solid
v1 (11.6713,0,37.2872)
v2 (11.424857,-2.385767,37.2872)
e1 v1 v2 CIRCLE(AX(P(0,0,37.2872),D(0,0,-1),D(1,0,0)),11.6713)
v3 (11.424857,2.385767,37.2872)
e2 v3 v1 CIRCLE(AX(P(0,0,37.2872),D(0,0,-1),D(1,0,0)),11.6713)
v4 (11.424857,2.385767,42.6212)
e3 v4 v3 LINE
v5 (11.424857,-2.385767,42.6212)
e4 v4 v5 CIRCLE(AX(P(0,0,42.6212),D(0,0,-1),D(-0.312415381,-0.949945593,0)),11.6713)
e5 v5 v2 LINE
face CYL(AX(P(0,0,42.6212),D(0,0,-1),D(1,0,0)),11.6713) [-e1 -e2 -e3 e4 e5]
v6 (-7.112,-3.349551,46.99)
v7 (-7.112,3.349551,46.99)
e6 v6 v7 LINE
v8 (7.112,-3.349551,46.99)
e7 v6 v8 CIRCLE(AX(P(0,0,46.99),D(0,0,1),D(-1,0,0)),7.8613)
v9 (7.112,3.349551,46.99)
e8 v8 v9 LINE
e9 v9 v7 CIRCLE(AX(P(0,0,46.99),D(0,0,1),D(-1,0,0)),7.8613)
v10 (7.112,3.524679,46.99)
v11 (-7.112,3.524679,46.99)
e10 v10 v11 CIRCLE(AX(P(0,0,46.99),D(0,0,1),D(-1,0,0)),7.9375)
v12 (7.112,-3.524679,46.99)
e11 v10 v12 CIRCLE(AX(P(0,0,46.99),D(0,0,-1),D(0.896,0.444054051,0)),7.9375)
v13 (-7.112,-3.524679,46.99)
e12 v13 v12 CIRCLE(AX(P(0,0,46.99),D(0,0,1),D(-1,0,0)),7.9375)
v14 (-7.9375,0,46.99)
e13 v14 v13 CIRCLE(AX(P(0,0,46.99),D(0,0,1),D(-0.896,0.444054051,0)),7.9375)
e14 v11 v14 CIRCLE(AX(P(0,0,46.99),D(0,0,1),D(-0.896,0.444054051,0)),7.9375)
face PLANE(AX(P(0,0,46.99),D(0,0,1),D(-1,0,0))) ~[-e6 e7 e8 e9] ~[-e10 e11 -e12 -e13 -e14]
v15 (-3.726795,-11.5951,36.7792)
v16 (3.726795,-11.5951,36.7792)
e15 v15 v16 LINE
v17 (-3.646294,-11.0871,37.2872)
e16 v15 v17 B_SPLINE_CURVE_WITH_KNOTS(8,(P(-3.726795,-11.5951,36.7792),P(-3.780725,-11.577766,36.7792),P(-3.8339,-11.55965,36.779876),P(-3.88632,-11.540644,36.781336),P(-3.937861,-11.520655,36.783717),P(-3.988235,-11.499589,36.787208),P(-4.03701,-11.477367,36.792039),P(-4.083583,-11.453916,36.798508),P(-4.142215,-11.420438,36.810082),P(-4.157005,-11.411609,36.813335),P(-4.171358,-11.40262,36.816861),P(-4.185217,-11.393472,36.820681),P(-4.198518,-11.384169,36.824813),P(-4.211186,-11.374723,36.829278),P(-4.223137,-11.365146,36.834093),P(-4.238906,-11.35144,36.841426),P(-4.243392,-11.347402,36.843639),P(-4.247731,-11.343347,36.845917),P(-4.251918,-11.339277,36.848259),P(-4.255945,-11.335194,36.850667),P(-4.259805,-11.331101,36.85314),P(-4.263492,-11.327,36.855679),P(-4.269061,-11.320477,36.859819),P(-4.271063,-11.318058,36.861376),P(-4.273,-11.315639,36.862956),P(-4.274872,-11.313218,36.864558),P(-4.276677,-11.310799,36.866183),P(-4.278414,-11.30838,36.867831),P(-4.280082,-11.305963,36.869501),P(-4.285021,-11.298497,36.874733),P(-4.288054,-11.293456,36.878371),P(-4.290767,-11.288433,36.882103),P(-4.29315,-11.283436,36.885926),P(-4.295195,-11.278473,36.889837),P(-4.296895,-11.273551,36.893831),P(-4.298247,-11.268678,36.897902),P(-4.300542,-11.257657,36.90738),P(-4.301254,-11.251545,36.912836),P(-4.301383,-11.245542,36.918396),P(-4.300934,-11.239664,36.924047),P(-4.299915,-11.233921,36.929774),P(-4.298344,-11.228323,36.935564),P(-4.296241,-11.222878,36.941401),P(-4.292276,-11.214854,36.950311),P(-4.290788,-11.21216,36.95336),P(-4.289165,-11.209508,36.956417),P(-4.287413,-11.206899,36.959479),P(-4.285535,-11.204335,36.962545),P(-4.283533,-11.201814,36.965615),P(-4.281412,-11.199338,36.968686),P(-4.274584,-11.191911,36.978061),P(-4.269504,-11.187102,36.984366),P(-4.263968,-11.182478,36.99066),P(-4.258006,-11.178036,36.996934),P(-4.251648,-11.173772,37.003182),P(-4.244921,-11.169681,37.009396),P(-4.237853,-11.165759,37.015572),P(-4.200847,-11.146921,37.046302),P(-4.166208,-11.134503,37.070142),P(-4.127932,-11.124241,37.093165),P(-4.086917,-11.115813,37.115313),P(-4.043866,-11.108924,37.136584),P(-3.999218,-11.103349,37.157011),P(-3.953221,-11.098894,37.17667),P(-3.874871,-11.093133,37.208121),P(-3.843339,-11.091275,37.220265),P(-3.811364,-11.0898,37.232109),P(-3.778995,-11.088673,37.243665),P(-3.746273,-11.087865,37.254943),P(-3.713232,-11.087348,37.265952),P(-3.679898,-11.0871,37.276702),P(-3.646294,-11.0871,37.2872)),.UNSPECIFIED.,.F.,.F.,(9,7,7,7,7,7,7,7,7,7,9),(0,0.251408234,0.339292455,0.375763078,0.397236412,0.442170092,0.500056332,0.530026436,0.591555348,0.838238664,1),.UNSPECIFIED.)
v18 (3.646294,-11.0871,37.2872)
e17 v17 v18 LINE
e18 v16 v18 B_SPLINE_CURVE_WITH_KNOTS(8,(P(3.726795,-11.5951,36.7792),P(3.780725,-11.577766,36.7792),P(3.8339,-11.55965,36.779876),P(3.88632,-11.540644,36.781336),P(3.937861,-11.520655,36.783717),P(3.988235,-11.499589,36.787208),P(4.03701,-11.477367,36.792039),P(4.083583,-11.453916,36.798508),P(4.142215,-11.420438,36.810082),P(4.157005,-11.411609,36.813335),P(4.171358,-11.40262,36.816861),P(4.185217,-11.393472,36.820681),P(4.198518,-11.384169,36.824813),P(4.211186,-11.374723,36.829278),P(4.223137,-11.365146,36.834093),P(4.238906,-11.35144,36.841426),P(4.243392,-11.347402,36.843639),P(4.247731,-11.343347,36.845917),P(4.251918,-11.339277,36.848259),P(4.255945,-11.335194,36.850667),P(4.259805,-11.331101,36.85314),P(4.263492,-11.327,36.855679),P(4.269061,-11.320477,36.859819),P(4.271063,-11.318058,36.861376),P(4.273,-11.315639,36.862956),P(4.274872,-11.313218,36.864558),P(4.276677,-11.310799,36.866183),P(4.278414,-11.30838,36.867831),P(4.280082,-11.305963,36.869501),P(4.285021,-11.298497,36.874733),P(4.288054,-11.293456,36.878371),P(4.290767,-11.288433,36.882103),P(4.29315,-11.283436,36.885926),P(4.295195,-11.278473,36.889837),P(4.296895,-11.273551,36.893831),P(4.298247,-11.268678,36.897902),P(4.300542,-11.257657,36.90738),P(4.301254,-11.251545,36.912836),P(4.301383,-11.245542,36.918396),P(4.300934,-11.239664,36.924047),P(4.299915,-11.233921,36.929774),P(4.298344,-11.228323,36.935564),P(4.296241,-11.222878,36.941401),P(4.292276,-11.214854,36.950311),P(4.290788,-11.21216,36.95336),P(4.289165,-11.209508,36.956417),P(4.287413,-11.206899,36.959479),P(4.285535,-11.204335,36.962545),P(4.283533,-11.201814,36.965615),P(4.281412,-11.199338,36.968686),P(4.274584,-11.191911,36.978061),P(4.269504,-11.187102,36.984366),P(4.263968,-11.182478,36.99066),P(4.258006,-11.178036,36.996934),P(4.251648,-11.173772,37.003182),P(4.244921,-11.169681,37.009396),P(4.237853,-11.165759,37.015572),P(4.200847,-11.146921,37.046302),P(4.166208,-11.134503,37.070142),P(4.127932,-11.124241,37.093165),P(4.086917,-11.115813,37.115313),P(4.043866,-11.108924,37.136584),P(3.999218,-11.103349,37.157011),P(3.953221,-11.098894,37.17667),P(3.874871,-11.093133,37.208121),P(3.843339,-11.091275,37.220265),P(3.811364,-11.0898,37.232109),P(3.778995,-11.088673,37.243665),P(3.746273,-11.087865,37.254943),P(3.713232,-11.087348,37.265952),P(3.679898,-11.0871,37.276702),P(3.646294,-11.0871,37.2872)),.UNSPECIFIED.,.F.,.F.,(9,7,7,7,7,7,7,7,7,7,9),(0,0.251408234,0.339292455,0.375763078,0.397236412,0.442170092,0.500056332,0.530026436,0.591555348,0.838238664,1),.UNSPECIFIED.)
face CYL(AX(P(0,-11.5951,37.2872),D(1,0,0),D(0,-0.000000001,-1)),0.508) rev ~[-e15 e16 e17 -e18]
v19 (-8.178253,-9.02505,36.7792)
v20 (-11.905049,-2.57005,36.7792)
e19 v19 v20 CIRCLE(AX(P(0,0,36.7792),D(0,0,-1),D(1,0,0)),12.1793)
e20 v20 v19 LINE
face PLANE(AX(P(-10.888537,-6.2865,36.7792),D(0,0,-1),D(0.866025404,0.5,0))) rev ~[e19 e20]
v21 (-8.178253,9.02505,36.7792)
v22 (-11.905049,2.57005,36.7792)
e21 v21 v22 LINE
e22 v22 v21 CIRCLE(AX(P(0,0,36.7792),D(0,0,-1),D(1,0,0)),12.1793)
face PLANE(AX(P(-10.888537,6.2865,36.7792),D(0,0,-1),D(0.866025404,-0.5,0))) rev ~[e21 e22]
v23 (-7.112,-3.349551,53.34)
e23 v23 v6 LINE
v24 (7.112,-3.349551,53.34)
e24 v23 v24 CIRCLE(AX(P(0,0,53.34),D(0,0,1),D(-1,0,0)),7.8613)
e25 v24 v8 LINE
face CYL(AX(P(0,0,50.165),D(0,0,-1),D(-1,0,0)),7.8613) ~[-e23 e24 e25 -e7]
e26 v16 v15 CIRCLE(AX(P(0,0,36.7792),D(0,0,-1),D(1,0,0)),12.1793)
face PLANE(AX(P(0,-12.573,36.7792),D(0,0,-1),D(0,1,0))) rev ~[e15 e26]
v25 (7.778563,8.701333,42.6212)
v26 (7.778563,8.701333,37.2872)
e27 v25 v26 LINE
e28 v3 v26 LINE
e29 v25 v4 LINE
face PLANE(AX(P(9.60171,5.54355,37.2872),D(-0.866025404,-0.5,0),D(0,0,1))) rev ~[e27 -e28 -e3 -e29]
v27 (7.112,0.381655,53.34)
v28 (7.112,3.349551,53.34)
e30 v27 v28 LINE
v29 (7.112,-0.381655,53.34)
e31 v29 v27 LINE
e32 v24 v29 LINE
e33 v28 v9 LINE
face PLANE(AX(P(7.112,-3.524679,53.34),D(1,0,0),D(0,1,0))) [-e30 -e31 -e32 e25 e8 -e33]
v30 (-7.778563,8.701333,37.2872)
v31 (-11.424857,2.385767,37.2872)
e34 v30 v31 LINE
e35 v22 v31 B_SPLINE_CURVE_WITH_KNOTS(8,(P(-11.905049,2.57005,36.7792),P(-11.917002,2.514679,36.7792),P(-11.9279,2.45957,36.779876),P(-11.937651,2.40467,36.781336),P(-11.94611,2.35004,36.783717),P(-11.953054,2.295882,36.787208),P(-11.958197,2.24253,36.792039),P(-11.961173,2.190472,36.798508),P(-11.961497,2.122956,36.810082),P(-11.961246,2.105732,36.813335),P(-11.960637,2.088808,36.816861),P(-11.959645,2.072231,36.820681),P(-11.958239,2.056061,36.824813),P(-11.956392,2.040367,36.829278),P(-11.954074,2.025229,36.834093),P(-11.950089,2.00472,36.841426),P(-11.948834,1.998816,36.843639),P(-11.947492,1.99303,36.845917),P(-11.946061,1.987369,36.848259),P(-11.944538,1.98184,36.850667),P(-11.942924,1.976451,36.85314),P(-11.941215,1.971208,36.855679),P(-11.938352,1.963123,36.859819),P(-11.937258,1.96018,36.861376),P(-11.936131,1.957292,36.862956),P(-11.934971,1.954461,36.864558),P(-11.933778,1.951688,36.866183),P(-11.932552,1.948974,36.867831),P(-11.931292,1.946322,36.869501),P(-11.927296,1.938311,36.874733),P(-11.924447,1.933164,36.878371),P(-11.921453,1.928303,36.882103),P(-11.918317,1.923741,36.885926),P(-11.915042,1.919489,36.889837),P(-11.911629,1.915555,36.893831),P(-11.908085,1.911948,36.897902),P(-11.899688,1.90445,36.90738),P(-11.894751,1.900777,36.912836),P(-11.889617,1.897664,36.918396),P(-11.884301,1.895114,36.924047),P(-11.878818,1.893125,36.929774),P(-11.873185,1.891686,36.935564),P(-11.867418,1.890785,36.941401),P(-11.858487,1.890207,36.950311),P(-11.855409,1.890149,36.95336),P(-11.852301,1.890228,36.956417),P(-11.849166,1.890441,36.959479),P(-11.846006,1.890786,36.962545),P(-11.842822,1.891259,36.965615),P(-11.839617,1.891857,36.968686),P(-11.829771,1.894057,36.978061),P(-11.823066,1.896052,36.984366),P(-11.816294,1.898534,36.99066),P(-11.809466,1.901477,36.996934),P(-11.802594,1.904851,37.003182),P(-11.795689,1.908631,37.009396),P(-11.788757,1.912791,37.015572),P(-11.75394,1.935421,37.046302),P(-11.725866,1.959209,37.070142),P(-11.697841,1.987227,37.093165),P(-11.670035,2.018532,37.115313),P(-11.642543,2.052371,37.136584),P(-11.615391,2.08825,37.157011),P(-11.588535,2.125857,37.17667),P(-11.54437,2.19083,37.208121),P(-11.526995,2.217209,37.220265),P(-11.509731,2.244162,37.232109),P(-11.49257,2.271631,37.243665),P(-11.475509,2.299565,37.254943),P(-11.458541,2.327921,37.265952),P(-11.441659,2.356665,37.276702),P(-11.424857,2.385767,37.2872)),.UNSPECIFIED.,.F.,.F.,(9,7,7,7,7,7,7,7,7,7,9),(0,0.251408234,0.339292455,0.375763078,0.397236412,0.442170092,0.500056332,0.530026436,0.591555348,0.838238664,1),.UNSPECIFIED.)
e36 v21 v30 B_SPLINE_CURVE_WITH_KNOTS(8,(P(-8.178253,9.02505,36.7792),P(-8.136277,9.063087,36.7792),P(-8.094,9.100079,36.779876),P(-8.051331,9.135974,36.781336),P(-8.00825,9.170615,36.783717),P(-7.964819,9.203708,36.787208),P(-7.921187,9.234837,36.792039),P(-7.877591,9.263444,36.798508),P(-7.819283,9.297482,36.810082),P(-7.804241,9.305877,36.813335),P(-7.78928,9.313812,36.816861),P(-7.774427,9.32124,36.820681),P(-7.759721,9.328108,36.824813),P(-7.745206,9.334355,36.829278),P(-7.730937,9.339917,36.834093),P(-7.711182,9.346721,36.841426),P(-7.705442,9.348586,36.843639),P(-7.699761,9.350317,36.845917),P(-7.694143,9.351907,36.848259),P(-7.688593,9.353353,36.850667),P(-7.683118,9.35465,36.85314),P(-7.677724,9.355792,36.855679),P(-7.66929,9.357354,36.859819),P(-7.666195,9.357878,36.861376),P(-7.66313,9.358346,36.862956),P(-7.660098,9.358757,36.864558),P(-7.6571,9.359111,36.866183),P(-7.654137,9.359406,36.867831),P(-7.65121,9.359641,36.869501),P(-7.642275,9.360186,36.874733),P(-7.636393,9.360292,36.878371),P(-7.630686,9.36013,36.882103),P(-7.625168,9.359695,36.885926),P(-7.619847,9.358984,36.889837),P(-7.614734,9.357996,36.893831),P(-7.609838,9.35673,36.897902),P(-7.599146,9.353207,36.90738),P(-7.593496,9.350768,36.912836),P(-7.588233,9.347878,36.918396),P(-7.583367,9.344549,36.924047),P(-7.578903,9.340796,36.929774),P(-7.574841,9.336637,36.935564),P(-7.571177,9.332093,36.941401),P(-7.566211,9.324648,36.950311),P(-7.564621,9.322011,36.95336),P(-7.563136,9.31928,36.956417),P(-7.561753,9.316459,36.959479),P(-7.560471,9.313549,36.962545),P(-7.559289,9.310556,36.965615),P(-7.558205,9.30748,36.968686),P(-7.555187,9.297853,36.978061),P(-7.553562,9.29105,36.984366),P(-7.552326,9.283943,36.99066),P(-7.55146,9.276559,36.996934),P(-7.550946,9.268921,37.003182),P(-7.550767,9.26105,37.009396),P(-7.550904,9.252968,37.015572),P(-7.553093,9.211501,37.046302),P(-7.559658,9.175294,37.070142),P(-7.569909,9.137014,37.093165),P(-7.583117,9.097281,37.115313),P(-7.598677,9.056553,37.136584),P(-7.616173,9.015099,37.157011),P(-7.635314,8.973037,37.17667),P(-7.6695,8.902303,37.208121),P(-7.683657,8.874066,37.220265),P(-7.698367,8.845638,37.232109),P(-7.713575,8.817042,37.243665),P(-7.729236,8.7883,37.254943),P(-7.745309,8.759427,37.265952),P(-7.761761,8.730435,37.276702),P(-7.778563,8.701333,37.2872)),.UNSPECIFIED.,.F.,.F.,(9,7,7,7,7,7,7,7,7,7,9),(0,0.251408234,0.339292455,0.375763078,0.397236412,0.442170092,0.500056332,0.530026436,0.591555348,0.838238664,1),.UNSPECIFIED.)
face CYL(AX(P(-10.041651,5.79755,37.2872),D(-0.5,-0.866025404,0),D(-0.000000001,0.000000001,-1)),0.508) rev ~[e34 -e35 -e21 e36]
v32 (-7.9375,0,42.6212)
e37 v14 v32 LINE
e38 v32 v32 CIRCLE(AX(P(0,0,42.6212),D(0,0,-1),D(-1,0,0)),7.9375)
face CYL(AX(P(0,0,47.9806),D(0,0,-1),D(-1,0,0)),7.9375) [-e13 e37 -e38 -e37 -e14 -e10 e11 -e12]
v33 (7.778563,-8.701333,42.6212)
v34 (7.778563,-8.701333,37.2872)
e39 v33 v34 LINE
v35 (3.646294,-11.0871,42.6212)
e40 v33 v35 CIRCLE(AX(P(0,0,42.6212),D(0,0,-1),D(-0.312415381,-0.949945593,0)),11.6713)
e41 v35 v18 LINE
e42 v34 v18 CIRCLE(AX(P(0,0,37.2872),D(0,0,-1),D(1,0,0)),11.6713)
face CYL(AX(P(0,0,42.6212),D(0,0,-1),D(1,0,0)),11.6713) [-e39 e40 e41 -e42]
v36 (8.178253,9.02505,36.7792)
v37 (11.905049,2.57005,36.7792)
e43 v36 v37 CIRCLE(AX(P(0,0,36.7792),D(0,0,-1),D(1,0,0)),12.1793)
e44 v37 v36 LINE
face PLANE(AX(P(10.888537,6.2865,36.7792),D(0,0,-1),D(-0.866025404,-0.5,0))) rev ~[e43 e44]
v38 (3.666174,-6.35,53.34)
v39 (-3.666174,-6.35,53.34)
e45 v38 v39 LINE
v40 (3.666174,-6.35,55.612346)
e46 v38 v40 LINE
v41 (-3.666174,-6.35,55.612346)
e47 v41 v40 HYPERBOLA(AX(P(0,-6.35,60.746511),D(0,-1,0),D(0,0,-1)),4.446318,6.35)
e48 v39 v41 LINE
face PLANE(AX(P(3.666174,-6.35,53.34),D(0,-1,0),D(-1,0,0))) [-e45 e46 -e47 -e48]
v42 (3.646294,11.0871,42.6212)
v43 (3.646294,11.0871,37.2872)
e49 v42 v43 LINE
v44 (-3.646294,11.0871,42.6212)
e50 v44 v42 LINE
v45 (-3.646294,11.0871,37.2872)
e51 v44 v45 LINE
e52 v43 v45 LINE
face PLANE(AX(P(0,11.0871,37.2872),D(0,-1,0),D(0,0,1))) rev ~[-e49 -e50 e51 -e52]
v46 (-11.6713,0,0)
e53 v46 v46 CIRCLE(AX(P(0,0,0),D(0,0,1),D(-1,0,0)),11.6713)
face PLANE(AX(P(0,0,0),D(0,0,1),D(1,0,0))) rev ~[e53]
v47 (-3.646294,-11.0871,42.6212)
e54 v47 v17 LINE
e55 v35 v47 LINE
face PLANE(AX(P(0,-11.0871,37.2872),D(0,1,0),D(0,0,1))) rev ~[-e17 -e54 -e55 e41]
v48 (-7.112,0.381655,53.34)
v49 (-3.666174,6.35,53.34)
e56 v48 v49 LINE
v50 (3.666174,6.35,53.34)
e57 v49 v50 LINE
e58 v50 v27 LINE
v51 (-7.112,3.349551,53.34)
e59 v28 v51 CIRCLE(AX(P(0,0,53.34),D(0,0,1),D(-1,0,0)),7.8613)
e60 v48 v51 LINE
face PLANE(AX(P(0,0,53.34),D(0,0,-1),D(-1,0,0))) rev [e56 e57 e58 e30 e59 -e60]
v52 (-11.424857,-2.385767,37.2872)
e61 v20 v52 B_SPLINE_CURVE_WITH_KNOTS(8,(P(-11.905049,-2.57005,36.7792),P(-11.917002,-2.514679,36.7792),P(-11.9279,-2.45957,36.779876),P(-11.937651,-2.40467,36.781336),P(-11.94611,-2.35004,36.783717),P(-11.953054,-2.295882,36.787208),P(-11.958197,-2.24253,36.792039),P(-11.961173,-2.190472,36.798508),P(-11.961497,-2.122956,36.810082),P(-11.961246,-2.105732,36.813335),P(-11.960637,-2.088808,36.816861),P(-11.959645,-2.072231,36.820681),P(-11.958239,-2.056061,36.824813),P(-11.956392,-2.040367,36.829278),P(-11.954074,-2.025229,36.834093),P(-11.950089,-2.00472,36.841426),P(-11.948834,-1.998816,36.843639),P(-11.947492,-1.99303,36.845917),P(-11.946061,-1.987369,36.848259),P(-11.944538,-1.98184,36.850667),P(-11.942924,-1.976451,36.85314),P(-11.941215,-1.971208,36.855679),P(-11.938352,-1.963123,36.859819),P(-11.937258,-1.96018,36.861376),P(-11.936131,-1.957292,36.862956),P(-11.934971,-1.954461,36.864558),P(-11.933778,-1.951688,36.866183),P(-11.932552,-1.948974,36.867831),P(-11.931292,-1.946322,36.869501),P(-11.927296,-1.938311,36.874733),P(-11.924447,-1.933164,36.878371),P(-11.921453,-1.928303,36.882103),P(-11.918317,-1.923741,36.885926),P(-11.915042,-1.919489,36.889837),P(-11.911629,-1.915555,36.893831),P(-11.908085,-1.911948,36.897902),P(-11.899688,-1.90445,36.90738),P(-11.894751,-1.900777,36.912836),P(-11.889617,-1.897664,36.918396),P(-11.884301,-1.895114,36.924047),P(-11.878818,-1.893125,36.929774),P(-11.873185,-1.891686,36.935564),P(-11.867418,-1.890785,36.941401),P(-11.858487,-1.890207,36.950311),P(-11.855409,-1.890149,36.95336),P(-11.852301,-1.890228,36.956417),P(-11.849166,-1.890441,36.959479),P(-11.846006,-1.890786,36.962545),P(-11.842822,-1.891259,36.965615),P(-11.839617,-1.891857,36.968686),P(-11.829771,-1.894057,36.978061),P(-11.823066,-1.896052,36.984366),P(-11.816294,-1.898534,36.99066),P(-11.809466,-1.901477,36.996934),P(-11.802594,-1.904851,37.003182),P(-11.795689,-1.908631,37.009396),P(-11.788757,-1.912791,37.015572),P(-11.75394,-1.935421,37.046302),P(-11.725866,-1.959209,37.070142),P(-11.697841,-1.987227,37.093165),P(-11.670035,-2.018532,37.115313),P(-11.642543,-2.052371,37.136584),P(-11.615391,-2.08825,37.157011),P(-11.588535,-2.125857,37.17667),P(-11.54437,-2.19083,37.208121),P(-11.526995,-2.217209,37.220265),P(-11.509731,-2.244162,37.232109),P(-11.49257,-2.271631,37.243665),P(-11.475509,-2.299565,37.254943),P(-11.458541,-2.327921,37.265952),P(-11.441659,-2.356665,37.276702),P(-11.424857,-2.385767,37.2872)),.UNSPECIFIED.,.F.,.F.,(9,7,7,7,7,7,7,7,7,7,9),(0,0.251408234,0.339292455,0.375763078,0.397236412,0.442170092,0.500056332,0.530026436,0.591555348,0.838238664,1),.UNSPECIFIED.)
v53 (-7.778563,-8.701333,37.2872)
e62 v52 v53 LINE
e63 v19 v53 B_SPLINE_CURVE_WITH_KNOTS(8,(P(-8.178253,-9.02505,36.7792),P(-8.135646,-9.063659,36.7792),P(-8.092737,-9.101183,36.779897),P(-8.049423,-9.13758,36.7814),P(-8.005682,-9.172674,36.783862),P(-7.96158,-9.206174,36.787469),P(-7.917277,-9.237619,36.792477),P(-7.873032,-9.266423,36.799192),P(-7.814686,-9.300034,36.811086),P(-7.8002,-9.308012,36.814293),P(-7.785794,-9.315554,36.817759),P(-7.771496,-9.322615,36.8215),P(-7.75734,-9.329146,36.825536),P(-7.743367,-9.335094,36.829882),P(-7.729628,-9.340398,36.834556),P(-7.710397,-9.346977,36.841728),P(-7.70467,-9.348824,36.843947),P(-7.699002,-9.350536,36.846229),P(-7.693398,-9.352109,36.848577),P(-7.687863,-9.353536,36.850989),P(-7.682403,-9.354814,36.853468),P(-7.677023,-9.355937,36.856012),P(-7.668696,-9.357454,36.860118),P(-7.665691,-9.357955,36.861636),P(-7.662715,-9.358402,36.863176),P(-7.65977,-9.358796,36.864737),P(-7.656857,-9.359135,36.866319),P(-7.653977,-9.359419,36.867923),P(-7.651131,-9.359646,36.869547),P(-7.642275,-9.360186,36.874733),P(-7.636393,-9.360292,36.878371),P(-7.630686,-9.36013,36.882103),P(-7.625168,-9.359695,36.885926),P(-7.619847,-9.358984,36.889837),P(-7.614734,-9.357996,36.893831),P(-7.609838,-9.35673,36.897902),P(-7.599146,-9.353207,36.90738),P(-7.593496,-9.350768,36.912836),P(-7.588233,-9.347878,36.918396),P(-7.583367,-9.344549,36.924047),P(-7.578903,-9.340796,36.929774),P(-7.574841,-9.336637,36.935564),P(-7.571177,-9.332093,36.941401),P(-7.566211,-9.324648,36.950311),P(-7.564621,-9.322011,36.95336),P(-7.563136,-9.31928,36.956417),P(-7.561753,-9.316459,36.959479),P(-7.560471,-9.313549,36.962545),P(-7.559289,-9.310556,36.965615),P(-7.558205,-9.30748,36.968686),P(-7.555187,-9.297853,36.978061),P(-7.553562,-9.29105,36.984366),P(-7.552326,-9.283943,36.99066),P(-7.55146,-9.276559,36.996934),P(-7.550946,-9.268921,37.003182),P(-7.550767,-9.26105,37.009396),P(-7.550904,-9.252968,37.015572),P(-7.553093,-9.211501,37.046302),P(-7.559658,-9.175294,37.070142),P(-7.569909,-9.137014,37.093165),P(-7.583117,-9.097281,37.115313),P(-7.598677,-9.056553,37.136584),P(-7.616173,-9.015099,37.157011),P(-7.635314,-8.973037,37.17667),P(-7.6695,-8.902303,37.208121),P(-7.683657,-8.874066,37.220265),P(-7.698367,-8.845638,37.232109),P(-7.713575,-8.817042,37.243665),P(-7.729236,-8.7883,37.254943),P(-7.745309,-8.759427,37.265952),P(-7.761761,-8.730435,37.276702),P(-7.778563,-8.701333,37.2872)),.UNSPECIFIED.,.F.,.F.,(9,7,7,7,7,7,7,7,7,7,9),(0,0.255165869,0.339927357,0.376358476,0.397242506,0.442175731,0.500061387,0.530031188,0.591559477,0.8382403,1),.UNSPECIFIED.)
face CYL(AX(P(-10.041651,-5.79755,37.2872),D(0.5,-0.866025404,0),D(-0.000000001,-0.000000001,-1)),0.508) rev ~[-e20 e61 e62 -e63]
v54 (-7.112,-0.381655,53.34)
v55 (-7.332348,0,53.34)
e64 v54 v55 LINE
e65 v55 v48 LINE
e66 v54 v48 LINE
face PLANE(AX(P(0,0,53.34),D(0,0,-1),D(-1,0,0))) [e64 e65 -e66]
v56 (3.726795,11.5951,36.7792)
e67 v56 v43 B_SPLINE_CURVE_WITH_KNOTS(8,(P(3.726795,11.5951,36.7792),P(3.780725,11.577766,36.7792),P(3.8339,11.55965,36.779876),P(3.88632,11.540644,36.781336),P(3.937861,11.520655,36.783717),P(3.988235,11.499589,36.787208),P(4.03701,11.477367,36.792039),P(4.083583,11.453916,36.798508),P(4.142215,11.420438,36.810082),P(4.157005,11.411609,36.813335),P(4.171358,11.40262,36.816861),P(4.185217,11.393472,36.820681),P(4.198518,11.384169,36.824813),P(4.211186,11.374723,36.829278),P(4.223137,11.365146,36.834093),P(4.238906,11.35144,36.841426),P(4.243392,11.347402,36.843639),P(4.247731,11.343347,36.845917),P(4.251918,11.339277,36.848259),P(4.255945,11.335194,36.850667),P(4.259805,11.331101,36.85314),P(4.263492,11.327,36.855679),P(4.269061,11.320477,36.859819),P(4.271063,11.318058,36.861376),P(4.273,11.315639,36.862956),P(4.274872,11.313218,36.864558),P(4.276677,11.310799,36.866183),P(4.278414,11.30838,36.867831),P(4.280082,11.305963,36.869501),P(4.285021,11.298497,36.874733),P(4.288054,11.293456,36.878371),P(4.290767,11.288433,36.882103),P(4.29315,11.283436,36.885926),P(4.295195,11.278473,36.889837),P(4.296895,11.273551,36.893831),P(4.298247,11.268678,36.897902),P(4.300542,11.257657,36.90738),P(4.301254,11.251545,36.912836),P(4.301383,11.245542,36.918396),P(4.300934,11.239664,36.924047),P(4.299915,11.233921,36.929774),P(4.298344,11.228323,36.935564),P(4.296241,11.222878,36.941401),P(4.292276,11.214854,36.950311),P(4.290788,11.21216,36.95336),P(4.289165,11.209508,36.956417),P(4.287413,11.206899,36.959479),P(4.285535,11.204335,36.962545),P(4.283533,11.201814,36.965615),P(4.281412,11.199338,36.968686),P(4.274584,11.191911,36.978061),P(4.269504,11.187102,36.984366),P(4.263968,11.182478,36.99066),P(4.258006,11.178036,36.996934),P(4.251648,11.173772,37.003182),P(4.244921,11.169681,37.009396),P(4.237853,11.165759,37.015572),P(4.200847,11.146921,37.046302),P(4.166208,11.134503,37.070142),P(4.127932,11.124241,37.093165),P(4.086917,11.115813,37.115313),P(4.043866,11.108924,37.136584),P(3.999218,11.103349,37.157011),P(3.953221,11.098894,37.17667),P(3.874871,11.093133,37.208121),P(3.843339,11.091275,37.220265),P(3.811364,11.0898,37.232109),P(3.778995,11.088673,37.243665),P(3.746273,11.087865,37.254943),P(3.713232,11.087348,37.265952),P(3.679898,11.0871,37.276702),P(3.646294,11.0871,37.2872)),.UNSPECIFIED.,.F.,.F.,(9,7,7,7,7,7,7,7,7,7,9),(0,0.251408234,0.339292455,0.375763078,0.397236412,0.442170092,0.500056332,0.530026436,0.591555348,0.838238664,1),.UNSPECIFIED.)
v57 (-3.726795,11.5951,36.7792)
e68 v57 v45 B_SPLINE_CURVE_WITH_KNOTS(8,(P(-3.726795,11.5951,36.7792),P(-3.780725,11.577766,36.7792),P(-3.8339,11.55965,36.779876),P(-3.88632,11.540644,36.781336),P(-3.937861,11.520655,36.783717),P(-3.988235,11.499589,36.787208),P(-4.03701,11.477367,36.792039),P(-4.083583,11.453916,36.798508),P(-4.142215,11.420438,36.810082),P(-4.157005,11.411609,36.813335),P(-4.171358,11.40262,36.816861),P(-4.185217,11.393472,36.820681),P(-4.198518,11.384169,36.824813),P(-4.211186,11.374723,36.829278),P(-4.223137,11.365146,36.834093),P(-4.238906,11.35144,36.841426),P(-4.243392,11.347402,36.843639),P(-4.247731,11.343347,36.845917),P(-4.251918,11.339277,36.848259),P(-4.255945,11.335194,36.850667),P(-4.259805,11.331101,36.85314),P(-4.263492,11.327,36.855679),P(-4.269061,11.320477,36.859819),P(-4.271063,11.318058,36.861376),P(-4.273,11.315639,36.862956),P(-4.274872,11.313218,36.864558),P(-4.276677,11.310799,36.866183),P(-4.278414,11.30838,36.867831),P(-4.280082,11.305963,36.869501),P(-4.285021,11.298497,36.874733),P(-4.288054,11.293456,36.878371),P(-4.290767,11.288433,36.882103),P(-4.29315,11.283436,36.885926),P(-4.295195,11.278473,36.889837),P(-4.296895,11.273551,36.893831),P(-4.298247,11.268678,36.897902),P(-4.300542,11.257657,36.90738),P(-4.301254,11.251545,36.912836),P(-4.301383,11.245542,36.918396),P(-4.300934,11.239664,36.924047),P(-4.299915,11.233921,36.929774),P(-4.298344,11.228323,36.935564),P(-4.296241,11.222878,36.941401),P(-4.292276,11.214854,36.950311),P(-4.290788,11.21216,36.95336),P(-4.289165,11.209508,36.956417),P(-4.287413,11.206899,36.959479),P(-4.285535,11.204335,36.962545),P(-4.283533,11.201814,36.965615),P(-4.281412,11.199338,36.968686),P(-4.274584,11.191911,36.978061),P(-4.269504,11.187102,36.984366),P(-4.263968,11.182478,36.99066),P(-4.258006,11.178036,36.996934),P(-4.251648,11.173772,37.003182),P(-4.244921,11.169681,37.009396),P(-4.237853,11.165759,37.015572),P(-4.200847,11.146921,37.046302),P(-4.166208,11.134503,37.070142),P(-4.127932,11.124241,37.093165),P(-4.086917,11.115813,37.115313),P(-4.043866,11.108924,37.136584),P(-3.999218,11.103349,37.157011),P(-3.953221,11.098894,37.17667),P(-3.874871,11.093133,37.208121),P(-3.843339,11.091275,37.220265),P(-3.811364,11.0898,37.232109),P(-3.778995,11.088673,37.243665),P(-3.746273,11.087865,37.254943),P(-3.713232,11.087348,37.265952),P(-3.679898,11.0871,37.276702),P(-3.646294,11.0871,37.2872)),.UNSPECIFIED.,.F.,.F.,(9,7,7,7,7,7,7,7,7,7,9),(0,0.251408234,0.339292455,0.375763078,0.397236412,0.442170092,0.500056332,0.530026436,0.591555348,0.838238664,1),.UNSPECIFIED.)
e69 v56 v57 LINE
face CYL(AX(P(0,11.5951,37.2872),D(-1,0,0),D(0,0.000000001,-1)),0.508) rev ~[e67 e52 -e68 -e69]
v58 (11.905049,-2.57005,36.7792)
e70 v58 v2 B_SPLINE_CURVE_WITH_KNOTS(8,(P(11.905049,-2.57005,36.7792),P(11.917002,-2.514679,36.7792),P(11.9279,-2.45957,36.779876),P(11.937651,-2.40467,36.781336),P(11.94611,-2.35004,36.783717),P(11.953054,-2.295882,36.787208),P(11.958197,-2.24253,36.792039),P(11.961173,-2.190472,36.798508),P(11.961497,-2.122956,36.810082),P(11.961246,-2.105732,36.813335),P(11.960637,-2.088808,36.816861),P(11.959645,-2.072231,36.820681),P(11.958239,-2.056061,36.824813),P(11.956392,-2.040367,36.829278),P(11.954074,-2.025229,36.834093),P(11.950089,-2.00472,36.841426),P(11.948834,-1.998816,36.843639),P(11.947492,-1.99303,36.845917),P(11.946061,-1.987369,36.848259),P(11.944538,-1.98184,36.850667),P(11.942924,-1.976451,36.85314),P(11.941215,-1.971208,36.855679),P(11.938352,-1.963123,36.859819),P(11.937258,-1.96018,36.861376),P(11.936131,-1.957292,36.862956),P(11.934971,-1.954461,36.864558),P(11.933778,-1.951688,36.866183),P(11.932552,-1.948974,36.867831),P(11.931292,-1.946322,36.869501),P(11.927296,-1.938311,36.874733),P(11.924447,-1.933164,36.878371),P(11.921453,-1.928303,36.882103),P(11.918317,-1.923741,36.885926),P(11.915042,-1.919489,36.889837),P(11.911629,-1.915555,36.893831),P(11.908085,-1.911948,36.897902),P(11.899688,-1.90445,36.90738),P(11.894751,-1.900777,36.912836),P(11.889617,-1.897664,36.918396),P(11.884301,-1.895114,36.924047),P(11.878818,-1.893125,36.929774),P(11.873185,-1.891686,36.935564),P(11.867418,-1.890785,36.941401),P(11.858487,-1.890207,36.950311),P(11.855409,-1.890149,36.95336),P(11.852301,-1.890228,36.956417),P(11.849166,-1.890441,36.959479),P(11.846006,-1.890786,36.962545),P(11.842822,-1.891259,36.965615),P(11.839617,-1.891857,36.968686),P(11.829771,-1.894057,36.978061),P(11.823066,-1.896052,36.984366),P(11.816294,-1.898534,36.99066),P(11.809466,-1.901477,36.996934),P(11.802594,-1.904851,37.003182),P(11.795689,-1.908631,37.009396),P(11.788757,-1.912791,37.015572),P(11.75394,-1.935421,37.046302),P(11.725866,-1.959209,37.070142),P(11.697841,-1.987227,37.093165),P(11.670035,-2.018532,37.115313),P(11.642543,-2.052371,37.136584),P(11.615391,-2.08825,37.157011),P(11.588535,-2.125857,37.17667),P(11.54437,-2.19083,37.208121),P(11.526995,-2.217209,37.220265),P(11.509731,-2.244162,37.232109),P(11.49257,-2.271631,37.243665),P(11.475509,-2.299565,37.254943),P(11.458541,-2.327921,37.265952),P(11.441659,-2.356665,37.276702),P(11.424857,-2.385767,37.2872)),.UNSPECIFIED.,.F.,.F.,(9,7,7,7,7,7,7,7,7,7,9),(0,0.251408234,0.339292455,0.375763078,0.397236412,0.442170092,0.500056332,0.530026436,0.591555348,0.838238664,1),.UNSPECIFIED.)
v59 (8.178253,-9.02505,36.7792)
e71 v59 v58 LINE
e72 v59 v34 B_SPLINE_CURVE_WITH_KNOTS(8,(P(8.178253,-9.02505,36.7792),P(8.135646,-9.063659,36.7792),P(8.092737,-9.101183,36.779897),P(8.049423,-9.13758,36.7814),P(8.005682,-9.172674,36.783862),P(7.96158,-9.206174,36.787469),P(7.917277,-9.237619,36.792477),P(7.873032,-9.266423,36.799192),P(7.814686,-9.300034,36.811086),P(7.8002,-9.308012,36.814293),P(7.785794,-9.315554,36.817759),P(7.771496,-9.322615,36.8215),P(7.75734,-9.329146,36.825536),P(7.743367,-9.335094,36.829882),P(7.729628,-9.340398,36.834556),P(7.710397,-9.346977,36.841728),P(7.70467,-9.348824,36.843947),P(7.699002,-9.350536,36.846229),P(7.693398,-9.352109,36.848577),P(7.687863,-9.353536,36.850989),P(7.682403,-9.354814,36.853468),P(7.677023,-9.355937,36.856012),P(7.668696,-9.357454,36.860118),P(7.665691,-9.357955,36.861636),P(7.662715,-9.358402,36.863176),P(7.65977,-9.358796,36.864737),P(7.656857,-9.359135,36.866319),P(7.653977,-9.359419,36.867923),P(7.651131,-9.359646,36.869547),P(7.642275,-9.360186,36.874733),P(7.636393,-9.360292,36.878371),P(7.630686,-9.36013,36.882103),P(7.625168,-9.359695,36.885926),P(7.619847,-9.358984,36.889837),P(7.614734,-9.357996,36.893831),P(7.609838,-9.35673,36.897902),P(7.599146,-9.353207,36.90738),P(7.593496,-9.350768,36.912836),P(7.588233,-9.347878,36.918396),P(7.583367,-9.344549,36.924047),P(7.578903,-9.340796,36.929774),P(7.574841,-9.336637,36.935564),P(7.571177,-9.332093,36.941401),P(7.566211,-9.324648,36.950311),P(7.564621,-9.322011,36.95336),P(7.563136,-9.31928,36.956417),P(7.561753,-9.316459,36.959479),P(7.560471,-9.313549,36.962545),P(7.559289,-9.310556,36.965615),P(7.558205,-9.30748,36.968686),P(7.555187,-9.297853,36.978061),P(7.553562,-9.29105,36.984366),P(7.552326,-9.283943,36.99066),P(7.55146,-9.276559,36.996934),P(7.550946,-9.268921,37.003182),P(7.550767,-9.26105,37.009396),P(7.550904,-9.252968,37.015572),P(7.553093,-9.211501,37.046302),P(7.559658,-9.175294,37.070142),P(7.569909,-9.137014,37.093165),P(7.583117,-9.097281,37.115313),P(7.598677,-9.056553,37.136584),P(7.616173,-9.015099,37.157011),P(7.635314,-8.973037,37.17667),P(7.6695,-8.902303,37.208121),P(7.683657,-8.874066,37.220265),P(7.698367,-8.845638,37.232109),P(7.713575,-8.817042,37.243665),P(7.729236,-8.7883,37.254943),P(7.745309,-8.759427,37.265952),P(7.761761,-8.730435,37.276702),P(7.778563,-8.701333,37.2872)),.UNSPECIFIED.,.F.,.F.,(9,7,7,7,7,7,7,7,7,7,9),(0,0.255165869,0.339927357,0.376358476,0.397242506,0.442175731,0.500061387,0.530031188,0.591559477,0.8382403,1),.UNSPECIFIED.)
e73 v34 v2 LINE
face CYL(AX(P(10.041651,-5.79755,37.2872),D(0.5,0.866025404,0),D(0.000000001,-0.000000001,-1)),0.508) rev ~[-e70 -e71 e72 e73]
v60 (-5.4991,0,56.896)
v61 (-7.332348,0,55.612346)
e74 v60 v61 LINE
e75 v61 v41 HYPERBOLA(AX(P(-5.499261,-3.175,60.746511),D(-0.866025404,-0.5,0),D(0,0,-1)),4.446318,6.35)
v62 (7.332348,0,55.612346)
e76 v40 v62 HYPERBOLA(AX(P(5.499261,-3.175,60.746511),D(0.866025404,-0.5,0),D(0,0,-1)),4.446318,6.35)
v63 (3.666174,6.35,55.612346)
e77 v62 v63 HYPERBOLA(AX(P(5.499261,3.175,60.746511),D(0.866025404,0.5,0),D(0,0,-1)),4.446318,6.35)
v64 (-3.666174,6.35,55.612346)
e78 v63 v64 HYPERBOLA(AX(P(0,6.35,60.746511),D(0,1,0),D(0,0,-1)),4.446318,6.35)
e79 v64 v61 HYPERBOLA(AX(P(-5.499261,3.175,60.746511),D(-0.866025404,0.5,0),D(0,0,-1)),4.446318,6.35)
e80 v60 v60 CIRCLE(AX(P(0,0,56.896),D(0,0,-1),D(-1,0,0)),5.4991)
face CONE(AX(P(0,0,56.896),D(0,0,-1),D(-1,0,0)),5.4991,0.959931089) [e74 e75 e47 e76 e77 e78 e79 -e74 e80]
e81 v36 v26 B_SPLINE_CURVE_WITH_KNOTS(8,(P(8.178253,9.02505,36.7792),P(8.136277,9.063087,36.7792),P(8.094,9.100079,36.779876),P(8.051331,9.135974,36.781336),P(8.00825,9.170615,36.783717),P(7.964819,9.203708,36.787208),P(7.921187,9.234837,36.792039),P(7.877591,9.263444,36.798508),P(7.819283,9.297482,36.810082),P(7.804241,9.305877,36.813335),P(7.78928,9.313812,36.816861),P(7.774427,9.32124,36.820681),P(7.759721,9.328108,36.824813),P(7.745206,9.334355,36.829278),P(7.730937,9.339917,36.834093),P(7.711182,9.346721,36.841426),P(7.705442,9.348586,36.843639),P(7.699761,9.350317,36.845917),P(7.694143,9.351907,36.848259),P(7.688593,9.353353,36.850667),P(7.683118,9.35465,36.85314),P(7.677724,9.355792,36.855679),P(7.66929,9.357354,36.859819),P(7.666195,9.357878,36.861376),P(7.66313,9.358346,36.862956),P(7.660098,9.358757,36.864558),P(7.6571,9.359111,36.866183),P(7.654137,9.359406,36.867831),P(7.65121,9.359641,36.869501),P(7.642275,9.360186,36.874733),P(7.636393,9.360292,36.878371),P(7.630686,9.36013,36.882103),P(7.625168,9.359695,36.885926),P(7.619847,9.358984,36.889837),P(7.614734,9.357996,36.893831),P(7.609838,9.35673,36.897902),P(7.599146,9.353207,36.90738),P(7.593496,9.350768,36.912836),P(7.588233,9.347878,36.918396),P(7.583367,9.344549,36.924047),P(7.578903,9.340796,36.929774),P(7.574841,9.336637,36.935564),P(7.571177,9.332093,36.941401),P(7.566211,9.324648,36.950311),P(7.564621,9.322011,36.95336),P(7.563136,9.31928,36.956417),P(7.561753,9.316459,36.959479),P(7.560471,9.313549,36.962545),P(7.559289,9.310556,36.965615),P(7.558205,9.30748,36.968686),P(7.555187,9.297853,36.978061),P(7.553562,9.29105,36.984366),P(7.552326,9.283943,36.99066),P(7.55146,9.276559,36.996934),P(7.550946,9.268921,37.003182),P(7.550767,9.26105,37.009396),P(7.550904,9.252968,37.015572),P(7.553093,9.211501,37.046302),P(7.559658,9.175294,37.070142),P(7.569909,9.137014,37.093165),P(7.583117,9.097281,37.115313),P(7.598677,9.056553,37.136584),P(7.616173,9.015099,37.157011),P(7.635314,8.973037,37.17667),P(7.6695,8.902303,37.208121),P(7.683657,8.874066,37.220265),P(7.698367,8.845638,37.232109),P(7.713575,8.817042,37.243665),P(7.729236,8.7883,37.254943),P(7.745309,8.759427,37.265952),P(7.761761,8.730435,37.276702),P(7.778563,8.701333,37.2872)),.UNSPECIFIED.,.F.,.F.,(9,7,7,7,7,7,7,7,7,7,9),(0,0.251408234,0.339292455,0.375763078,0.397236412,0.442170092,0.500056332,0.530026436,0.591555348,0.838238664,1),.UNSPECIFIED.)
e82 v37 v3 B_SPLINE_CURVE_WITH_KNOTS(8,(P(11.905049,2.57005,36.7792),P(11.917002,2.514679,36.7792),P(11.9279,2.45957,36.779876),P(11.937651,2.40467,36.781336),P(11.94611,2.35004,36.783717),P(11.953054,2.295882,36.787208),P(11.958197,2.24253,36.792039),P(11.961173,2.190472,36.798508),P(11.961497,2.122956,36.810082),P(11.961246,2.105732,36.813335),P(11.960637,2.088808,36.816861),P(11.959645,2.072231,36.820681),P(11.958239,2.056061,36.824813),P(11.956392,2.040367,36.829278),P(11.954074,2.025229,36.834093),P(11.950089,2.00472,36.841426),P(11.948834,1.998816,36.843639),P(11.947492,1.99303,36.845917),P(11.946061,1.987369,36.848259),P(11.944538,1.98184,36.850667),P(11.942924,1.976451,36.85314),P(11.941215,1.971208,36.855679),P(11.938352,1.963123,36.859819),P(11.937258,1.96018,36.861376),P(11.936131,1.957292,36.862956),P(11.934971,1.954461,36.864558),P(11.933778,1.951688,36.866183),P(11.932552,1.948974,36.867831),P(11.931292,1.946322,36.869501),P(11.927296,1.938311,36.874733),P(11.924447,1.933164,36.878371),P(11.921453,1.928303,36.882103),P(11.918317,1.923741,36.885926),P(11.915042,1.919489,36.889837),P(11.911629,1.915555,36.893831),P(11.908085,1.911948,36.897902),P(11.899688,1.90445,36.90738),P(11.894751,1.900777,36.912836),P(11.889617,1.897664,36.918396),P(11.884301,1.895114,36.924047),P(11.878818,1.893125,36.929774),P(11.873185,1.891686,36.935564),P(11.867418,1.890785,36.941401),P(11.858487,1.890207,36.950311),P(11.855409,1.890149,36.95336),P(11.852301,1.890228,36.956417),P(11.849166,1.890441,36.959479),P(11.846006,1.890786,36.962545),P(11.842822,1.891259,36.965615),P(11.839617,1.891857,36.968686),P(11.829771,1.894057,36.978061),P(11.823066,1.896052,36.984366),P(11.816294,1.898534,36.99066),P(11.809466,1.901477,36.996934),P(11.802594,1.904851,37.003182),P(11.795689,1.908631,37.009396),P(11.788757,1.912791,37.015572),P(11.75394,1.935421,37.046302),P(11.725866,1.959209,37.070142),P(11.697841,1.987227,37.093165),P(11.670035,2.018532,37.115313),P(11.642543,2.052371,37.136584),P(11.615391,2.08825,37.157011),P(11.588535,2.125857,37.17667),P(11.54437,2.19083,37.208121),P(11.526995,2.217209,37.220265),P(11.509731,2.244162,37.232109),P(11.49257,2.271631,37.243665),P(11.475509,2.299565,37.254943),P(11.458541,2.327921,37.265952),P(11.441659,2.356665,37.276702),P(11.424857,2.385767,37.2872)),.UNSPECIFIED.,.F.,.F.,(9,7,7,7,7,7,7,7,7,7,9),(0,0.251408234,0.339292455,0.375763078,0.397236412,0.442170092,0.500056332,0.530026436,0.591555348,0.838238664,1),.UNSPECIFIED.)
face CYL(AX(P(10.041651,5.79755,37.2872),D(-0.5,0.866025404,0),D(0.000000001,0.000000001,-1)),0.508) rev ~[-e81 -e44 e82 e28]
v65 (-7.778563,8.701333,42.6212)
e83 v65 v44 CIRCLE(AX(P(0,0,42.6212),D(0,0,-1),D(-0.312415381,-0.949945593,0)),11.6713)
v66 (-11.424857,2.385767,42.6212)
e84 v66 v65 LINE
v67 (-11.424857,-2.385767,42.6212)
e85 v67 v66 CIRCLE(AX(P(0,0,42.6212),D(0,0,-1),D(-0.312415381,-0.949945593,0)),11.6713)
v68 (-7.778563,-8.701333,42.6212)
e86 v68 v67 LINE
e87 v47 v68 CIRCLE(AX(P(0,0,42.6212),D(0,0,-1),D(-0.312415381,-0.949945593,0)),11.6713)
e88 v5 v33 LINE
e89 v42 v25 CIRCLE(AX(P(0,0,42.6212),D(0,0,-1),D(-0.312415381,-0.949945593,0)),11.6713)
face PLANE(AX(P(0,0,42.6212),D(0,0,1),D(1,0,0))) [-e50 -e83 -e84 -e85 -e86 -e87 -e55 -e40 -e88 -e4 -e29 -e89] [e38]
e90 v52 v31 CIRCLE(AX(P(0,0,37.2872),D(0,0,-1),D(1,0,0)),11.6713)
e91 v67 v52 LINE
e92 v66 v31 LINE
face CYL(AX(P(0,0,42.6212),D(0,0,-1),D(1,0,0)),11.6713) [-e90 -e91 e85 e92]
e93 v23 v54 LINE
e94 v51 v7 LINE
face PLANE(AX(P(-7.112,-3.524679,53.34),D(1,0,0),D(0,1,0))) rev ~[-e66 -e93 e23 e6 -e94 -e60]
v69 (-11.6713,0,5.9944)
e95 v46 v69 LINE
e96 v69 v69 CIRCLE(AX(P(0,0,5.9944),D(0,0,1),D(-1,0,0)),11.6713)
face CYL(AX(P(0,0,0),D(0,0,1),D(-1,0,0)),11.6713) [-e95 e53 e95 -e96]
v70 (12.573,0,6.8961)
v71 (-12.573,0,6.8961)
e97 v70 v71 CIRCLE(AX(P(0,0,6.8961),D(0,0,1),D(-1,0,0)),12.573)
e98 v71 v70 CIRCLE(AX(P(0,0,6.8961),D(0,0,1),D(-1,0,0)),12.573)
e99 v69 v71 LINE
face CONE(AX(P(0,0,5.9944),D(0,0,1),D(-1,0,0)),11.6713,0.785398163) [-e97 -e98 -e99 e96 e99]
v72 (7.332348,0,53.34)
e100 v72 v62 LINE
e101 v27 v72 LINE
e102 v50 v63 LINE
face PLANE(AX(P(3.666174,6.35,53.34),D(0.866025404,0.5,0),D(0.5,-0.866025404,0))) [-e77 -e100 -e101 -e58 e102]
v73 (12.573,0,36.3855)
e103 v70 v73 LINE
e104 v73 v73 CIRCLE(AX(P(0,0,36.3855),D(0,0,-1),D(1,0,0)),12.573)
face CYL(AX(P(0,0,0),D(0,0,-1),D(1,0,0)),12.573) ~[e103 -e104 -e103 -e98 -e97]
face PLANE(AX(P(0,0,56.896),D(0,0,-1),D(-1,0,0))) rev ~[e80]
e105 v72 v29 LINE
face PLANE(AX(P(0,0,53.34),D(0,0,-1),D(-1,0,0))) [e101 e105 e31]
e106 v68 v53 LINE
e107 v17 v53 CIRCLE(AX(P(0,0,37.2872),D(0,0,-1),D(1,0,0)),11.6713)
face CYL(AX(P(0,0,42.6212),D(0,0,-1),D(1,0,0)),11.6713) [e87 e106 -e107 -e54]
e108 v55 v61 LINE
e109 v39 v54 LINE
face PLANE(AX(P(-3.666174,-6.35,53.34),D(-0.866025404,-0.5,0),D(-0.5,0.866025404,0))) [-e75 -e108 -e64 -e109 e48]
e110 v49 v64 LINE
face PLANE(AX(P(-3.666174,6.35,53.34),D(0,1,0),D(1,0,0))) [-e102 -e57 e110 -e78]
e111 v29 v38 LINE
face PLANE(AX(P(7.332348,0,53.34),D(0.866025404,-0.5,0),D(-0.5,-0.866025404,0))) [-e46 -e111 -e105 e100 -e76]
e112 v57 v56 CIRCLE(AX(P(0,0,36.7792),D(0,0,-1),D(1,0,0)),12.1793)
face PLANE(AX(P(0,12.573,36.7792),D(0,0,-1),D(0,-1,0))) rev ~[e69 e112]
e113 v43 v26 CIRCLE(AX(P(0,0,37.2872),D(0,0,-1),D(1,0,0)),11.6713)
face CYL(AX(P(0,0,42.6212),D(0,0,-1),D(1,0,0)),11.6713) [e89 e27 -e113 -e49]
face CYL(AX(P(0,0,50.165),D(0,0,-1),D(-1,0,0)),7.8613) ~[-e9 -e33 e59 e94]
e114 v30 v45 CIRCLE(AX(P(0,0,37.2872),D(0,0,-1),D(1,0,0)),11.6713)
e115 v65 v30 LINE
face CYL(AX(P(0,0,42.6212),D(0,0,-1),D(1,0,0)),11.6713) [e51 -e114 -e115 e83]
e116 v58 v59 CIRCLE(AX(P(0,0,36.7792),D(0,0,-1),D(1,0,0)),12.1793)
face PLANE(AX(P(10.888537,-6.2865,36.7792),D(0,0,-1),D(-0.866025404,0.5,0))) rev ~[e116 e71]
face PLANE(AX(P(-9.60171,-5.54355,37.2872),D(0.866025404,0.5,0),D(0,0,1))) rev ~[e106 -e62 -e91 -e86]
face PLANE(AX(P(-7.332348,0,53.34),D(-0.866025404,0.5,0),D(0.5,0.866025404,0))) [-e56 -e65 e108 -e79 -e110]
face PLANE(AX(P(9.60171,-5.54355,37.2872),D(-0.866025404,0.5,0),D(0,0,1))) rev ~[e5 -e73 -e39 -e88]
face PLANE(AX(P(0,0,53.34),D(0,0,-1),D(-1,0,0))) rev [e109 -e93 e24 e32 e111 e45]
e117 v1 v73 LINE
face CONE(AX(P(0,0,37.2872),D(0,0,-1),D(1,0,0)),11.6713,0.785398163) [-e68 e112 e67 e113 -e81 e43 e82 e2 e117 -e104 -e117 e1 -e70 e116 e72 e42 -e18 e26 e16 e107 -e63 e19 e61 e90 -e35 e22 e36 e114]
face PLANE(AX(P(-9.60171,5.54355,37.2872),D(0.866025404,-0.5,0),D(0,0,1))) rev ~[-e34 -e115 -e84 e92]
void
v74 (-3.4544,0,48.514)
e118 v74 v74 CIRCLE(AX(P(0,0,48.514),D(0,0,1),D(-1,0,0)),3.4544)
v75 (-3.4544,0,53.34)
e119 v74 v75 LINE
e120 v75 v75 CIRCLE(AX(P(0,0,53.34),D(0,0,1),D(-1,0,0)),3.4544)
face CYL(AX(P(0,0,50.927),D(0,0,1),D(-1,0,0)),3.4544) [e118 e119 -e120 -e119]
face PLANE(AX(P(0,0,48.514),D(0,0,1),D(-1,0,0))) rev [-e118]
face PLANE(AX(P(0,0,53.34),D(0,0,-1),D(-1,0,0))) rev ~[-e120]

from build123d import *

# Parameters (mm, degrees)
SKETCH1_R           = 12.573
EXTRUDE1_DEPTH      = 42.6212
CUT_EXTRUDE1_DEPTH  = 15.0876
SKETCH12_W          = 10.7188
SKETCH12_H          = 7.9375
S2D0011_W           = 3.4544
S2D0011_H           = 4.826
CUT_EXTRUDE10_DEPTH = 6.35
EXTRUDE2_DEPTH      = 3.556
CIRPATTERN2_COUNT   = 6
SKETCH18_W          = 6.35
SKETCH18_H          = 0.0762


with BuildPart() as part:
    # Sketch1 → Extrude1 (new body)
    with BuildSketch(Plane.XY):
        Circle(SKETCH1_R)
    extrude(amount=EXTRUDE1_DEPTH)

    # Sketch2 → Cut-Extrude1 (cut, symmetric)
    with BuildSketch(Plane(origin=(0, 0, 0), x_dir=(0, 0, 1), z_dir=(1, 0, 0))):
        with BuildLine():
            Line((36.7792, 12.573), (36.7792, 11.5951))
            ThreePointArc((36.7792, 11.5951), (36.927989755, 11.235889755), (37.2872, 11.0871))
            Line((37.2872, 11.0871), (42.6212, 11.0871))
            Line((42.6212, 11.0871), (42.6212, 12.573))
            Line((42.6212, 12.573), (36.7792, 12.573))
        make_face()
    cut_extrude1 = extrude(amount=CUT_EXTRUDE1_DEPTH, both=True, mode=Mode.SUBTRACT)

    # Sketch10 → Cut-Revolve1 (revolve, cut)
    with BuildSketch(Plane(origin=(0, 0, 0), x_dir=(0, 0, -1), z_dir=(1, 0, 0)), mode=Mode.PRIVATE) as cut_revolve1_sk:
        Polygon((-42.6212, 11.6713), (-37.2872, 11.6713), (-36.3855, 12.573), (-42.6212, 12.573), align=None)
    revolve(cut_revolve1_sk.sketch.rotate(Axis((0, 0, 42.424985), (0, 0, -1)), 90), axis=Axis((0, 0, 42.424985), (0, 0, -1)), mode=Mode.SUBTRACT)  # turned: the seam where the file's is

    # Sketch11 → Cut-Revolve2 (revolve, cut)
    with BuildSketch(Plane(origin=(0, 0, 0), x_dir=(0, 0, 1), z_dir=(1, 0, 0)), mode=Mode.PRIVATE) as cut_revolve2_sk:
        Polygon((0, 11.6713), (5.9944, 11.6713), (6.8961, 12.573), (0, 12.573), align=None)
    revolve(cut_revolve2_sk.sketch.rotate(Axis((0, 0, -0.344805), (0, 0, 1)), 270), axis=Axis((0, 0, -0.344805), (0, 0, 1)), mode=Mode.SUBTRACT)  # turned: the seam where the file's is

    # Sketch12 → Revolve1 (revolve)
    with BuildSketch(Plane(origin=(0, 0, 0), x_dir=(0, 0, -1), z_dir=(1, 0, 0)), mode=Mode.PRIVATE) as revolve1_sk:
        with Locations((-47.9806, 3.96875)):
            Rectangle(SKETCH12_W, SKETCH12_H)
    revolve(revolve1_sk.sketch.rotate(Axis((0, 0, 53.76799), (0, 0, -1)), 270), axis=Axis((0, 0, 53.76799), (0, 0, -1)))  # turned: the seam where the file's is

    # S2D0011 → Cut-Revolve3 (revolve, cut)
    with BuildSketch(Plane(origin=(-3.4544, 0, 53.213), x_dir=(-1, 0, 0), z_dir=(0, 1, 0))):
        with Locations((-1.7272, -2.286)):
            Rectangle(S2D0011_W, S2D0011_H)
    revolve(axis=Axis((0, 0, 27.017003875), (0, 0, 1)), mode=Mode.SUBTRACT)

    # Sketch15 → Cut-Extrude10 (cut)
    with BuildSketch(Plane.YX.offset(-53.34)):
        with BuildLine():
            Line((-3.524679028, 7.112), (3.524679028, 7.112))
            ThreePointArc((3.524679028, 7.112), (0, 7.9375), (-3.524679028, 7.112))
        make_face()
        with BuildLine():
            Line((-3.524679028, -7.112), (3.524679028, -7.112))
            ThreePointArc((3.524679028, -7.112), (0, -7.9375), (-3.524679028, -7.112))
        make_face()
    extrude(amount=CUT_EXTRUDE10_DEPTH, mode=Mode.SUBTRACT)

    # Sketch16 → Extrude2 (add)
    with BuildSketch(Plane.XY.offset(53.34)):
        Polygon((-3.666174209, 6.35), (3.666174209, 6.35), (7.332348419, 0), (3.666174209, -6.35), (-3.666174209, -6.35), (-7.332348419, 0), align=None)
    extrude(amount=EXTRUDE2_DEPTH)

    # Sketch17 → Cut-Revolve4 (revolve, cut)
    with BuildSketch(Plane(origin=(0, 0, 0), x_dir=(1, 0, 0), z_dir=(0, 1, 0)), mode=Mode.PRIVATE) as cut_revolve4_sk:
        Polygon((5.4991, -56.896), (7.332348419, -55.612345638), (7.332348419, -56.896), align=None)
    revolve(cut_revolve4_sk.sketch.rotate(Axis((0, 0, 56.833182718), (0, 0, -1)), 180), axis=Axis((0, 0, 56.833182718), (0, 0, -1)), mode=Mode.SUBTRACT)  # turned: the seam where the file's is

    # CirPattern2: Cut-Extrude1 ×6 about axis
    cirpattern2_axis = Axis((0, 0, 0), (0, 0, 1))
    for i in range(1, CIRPATTERN2_COUNT):
        add(cut_extrude1.rotate(cirpattern2_axis, i * 360 / CIRPATTERN2_COUNT), mode=Mode.SUBTRACT)

    # Sketch18 → Cut-Revolve5 (revolve, cut)
    with BuildSketch(Plane(origin=(0, 0, 0), x_dir=(0, 0, -1), z_dir=(1, 0, 0)), mode=Mode.PRIVATE) as cut_revolve5_sk:
        with Locations((-50.165, 7.8994)):
            Rectangle(SKETCH18_W, SKETCH18_H)
    revolve(cut_revolve5_sk.sketch.rotate(Axis((0, 0, 0), (0, 0, 1)), 90), axis=Axis((0, 0, 0), (0, 0, 1)), mode=Mode.SUBTRACT)  # turned: the seam where the file's is


solid = part.part
